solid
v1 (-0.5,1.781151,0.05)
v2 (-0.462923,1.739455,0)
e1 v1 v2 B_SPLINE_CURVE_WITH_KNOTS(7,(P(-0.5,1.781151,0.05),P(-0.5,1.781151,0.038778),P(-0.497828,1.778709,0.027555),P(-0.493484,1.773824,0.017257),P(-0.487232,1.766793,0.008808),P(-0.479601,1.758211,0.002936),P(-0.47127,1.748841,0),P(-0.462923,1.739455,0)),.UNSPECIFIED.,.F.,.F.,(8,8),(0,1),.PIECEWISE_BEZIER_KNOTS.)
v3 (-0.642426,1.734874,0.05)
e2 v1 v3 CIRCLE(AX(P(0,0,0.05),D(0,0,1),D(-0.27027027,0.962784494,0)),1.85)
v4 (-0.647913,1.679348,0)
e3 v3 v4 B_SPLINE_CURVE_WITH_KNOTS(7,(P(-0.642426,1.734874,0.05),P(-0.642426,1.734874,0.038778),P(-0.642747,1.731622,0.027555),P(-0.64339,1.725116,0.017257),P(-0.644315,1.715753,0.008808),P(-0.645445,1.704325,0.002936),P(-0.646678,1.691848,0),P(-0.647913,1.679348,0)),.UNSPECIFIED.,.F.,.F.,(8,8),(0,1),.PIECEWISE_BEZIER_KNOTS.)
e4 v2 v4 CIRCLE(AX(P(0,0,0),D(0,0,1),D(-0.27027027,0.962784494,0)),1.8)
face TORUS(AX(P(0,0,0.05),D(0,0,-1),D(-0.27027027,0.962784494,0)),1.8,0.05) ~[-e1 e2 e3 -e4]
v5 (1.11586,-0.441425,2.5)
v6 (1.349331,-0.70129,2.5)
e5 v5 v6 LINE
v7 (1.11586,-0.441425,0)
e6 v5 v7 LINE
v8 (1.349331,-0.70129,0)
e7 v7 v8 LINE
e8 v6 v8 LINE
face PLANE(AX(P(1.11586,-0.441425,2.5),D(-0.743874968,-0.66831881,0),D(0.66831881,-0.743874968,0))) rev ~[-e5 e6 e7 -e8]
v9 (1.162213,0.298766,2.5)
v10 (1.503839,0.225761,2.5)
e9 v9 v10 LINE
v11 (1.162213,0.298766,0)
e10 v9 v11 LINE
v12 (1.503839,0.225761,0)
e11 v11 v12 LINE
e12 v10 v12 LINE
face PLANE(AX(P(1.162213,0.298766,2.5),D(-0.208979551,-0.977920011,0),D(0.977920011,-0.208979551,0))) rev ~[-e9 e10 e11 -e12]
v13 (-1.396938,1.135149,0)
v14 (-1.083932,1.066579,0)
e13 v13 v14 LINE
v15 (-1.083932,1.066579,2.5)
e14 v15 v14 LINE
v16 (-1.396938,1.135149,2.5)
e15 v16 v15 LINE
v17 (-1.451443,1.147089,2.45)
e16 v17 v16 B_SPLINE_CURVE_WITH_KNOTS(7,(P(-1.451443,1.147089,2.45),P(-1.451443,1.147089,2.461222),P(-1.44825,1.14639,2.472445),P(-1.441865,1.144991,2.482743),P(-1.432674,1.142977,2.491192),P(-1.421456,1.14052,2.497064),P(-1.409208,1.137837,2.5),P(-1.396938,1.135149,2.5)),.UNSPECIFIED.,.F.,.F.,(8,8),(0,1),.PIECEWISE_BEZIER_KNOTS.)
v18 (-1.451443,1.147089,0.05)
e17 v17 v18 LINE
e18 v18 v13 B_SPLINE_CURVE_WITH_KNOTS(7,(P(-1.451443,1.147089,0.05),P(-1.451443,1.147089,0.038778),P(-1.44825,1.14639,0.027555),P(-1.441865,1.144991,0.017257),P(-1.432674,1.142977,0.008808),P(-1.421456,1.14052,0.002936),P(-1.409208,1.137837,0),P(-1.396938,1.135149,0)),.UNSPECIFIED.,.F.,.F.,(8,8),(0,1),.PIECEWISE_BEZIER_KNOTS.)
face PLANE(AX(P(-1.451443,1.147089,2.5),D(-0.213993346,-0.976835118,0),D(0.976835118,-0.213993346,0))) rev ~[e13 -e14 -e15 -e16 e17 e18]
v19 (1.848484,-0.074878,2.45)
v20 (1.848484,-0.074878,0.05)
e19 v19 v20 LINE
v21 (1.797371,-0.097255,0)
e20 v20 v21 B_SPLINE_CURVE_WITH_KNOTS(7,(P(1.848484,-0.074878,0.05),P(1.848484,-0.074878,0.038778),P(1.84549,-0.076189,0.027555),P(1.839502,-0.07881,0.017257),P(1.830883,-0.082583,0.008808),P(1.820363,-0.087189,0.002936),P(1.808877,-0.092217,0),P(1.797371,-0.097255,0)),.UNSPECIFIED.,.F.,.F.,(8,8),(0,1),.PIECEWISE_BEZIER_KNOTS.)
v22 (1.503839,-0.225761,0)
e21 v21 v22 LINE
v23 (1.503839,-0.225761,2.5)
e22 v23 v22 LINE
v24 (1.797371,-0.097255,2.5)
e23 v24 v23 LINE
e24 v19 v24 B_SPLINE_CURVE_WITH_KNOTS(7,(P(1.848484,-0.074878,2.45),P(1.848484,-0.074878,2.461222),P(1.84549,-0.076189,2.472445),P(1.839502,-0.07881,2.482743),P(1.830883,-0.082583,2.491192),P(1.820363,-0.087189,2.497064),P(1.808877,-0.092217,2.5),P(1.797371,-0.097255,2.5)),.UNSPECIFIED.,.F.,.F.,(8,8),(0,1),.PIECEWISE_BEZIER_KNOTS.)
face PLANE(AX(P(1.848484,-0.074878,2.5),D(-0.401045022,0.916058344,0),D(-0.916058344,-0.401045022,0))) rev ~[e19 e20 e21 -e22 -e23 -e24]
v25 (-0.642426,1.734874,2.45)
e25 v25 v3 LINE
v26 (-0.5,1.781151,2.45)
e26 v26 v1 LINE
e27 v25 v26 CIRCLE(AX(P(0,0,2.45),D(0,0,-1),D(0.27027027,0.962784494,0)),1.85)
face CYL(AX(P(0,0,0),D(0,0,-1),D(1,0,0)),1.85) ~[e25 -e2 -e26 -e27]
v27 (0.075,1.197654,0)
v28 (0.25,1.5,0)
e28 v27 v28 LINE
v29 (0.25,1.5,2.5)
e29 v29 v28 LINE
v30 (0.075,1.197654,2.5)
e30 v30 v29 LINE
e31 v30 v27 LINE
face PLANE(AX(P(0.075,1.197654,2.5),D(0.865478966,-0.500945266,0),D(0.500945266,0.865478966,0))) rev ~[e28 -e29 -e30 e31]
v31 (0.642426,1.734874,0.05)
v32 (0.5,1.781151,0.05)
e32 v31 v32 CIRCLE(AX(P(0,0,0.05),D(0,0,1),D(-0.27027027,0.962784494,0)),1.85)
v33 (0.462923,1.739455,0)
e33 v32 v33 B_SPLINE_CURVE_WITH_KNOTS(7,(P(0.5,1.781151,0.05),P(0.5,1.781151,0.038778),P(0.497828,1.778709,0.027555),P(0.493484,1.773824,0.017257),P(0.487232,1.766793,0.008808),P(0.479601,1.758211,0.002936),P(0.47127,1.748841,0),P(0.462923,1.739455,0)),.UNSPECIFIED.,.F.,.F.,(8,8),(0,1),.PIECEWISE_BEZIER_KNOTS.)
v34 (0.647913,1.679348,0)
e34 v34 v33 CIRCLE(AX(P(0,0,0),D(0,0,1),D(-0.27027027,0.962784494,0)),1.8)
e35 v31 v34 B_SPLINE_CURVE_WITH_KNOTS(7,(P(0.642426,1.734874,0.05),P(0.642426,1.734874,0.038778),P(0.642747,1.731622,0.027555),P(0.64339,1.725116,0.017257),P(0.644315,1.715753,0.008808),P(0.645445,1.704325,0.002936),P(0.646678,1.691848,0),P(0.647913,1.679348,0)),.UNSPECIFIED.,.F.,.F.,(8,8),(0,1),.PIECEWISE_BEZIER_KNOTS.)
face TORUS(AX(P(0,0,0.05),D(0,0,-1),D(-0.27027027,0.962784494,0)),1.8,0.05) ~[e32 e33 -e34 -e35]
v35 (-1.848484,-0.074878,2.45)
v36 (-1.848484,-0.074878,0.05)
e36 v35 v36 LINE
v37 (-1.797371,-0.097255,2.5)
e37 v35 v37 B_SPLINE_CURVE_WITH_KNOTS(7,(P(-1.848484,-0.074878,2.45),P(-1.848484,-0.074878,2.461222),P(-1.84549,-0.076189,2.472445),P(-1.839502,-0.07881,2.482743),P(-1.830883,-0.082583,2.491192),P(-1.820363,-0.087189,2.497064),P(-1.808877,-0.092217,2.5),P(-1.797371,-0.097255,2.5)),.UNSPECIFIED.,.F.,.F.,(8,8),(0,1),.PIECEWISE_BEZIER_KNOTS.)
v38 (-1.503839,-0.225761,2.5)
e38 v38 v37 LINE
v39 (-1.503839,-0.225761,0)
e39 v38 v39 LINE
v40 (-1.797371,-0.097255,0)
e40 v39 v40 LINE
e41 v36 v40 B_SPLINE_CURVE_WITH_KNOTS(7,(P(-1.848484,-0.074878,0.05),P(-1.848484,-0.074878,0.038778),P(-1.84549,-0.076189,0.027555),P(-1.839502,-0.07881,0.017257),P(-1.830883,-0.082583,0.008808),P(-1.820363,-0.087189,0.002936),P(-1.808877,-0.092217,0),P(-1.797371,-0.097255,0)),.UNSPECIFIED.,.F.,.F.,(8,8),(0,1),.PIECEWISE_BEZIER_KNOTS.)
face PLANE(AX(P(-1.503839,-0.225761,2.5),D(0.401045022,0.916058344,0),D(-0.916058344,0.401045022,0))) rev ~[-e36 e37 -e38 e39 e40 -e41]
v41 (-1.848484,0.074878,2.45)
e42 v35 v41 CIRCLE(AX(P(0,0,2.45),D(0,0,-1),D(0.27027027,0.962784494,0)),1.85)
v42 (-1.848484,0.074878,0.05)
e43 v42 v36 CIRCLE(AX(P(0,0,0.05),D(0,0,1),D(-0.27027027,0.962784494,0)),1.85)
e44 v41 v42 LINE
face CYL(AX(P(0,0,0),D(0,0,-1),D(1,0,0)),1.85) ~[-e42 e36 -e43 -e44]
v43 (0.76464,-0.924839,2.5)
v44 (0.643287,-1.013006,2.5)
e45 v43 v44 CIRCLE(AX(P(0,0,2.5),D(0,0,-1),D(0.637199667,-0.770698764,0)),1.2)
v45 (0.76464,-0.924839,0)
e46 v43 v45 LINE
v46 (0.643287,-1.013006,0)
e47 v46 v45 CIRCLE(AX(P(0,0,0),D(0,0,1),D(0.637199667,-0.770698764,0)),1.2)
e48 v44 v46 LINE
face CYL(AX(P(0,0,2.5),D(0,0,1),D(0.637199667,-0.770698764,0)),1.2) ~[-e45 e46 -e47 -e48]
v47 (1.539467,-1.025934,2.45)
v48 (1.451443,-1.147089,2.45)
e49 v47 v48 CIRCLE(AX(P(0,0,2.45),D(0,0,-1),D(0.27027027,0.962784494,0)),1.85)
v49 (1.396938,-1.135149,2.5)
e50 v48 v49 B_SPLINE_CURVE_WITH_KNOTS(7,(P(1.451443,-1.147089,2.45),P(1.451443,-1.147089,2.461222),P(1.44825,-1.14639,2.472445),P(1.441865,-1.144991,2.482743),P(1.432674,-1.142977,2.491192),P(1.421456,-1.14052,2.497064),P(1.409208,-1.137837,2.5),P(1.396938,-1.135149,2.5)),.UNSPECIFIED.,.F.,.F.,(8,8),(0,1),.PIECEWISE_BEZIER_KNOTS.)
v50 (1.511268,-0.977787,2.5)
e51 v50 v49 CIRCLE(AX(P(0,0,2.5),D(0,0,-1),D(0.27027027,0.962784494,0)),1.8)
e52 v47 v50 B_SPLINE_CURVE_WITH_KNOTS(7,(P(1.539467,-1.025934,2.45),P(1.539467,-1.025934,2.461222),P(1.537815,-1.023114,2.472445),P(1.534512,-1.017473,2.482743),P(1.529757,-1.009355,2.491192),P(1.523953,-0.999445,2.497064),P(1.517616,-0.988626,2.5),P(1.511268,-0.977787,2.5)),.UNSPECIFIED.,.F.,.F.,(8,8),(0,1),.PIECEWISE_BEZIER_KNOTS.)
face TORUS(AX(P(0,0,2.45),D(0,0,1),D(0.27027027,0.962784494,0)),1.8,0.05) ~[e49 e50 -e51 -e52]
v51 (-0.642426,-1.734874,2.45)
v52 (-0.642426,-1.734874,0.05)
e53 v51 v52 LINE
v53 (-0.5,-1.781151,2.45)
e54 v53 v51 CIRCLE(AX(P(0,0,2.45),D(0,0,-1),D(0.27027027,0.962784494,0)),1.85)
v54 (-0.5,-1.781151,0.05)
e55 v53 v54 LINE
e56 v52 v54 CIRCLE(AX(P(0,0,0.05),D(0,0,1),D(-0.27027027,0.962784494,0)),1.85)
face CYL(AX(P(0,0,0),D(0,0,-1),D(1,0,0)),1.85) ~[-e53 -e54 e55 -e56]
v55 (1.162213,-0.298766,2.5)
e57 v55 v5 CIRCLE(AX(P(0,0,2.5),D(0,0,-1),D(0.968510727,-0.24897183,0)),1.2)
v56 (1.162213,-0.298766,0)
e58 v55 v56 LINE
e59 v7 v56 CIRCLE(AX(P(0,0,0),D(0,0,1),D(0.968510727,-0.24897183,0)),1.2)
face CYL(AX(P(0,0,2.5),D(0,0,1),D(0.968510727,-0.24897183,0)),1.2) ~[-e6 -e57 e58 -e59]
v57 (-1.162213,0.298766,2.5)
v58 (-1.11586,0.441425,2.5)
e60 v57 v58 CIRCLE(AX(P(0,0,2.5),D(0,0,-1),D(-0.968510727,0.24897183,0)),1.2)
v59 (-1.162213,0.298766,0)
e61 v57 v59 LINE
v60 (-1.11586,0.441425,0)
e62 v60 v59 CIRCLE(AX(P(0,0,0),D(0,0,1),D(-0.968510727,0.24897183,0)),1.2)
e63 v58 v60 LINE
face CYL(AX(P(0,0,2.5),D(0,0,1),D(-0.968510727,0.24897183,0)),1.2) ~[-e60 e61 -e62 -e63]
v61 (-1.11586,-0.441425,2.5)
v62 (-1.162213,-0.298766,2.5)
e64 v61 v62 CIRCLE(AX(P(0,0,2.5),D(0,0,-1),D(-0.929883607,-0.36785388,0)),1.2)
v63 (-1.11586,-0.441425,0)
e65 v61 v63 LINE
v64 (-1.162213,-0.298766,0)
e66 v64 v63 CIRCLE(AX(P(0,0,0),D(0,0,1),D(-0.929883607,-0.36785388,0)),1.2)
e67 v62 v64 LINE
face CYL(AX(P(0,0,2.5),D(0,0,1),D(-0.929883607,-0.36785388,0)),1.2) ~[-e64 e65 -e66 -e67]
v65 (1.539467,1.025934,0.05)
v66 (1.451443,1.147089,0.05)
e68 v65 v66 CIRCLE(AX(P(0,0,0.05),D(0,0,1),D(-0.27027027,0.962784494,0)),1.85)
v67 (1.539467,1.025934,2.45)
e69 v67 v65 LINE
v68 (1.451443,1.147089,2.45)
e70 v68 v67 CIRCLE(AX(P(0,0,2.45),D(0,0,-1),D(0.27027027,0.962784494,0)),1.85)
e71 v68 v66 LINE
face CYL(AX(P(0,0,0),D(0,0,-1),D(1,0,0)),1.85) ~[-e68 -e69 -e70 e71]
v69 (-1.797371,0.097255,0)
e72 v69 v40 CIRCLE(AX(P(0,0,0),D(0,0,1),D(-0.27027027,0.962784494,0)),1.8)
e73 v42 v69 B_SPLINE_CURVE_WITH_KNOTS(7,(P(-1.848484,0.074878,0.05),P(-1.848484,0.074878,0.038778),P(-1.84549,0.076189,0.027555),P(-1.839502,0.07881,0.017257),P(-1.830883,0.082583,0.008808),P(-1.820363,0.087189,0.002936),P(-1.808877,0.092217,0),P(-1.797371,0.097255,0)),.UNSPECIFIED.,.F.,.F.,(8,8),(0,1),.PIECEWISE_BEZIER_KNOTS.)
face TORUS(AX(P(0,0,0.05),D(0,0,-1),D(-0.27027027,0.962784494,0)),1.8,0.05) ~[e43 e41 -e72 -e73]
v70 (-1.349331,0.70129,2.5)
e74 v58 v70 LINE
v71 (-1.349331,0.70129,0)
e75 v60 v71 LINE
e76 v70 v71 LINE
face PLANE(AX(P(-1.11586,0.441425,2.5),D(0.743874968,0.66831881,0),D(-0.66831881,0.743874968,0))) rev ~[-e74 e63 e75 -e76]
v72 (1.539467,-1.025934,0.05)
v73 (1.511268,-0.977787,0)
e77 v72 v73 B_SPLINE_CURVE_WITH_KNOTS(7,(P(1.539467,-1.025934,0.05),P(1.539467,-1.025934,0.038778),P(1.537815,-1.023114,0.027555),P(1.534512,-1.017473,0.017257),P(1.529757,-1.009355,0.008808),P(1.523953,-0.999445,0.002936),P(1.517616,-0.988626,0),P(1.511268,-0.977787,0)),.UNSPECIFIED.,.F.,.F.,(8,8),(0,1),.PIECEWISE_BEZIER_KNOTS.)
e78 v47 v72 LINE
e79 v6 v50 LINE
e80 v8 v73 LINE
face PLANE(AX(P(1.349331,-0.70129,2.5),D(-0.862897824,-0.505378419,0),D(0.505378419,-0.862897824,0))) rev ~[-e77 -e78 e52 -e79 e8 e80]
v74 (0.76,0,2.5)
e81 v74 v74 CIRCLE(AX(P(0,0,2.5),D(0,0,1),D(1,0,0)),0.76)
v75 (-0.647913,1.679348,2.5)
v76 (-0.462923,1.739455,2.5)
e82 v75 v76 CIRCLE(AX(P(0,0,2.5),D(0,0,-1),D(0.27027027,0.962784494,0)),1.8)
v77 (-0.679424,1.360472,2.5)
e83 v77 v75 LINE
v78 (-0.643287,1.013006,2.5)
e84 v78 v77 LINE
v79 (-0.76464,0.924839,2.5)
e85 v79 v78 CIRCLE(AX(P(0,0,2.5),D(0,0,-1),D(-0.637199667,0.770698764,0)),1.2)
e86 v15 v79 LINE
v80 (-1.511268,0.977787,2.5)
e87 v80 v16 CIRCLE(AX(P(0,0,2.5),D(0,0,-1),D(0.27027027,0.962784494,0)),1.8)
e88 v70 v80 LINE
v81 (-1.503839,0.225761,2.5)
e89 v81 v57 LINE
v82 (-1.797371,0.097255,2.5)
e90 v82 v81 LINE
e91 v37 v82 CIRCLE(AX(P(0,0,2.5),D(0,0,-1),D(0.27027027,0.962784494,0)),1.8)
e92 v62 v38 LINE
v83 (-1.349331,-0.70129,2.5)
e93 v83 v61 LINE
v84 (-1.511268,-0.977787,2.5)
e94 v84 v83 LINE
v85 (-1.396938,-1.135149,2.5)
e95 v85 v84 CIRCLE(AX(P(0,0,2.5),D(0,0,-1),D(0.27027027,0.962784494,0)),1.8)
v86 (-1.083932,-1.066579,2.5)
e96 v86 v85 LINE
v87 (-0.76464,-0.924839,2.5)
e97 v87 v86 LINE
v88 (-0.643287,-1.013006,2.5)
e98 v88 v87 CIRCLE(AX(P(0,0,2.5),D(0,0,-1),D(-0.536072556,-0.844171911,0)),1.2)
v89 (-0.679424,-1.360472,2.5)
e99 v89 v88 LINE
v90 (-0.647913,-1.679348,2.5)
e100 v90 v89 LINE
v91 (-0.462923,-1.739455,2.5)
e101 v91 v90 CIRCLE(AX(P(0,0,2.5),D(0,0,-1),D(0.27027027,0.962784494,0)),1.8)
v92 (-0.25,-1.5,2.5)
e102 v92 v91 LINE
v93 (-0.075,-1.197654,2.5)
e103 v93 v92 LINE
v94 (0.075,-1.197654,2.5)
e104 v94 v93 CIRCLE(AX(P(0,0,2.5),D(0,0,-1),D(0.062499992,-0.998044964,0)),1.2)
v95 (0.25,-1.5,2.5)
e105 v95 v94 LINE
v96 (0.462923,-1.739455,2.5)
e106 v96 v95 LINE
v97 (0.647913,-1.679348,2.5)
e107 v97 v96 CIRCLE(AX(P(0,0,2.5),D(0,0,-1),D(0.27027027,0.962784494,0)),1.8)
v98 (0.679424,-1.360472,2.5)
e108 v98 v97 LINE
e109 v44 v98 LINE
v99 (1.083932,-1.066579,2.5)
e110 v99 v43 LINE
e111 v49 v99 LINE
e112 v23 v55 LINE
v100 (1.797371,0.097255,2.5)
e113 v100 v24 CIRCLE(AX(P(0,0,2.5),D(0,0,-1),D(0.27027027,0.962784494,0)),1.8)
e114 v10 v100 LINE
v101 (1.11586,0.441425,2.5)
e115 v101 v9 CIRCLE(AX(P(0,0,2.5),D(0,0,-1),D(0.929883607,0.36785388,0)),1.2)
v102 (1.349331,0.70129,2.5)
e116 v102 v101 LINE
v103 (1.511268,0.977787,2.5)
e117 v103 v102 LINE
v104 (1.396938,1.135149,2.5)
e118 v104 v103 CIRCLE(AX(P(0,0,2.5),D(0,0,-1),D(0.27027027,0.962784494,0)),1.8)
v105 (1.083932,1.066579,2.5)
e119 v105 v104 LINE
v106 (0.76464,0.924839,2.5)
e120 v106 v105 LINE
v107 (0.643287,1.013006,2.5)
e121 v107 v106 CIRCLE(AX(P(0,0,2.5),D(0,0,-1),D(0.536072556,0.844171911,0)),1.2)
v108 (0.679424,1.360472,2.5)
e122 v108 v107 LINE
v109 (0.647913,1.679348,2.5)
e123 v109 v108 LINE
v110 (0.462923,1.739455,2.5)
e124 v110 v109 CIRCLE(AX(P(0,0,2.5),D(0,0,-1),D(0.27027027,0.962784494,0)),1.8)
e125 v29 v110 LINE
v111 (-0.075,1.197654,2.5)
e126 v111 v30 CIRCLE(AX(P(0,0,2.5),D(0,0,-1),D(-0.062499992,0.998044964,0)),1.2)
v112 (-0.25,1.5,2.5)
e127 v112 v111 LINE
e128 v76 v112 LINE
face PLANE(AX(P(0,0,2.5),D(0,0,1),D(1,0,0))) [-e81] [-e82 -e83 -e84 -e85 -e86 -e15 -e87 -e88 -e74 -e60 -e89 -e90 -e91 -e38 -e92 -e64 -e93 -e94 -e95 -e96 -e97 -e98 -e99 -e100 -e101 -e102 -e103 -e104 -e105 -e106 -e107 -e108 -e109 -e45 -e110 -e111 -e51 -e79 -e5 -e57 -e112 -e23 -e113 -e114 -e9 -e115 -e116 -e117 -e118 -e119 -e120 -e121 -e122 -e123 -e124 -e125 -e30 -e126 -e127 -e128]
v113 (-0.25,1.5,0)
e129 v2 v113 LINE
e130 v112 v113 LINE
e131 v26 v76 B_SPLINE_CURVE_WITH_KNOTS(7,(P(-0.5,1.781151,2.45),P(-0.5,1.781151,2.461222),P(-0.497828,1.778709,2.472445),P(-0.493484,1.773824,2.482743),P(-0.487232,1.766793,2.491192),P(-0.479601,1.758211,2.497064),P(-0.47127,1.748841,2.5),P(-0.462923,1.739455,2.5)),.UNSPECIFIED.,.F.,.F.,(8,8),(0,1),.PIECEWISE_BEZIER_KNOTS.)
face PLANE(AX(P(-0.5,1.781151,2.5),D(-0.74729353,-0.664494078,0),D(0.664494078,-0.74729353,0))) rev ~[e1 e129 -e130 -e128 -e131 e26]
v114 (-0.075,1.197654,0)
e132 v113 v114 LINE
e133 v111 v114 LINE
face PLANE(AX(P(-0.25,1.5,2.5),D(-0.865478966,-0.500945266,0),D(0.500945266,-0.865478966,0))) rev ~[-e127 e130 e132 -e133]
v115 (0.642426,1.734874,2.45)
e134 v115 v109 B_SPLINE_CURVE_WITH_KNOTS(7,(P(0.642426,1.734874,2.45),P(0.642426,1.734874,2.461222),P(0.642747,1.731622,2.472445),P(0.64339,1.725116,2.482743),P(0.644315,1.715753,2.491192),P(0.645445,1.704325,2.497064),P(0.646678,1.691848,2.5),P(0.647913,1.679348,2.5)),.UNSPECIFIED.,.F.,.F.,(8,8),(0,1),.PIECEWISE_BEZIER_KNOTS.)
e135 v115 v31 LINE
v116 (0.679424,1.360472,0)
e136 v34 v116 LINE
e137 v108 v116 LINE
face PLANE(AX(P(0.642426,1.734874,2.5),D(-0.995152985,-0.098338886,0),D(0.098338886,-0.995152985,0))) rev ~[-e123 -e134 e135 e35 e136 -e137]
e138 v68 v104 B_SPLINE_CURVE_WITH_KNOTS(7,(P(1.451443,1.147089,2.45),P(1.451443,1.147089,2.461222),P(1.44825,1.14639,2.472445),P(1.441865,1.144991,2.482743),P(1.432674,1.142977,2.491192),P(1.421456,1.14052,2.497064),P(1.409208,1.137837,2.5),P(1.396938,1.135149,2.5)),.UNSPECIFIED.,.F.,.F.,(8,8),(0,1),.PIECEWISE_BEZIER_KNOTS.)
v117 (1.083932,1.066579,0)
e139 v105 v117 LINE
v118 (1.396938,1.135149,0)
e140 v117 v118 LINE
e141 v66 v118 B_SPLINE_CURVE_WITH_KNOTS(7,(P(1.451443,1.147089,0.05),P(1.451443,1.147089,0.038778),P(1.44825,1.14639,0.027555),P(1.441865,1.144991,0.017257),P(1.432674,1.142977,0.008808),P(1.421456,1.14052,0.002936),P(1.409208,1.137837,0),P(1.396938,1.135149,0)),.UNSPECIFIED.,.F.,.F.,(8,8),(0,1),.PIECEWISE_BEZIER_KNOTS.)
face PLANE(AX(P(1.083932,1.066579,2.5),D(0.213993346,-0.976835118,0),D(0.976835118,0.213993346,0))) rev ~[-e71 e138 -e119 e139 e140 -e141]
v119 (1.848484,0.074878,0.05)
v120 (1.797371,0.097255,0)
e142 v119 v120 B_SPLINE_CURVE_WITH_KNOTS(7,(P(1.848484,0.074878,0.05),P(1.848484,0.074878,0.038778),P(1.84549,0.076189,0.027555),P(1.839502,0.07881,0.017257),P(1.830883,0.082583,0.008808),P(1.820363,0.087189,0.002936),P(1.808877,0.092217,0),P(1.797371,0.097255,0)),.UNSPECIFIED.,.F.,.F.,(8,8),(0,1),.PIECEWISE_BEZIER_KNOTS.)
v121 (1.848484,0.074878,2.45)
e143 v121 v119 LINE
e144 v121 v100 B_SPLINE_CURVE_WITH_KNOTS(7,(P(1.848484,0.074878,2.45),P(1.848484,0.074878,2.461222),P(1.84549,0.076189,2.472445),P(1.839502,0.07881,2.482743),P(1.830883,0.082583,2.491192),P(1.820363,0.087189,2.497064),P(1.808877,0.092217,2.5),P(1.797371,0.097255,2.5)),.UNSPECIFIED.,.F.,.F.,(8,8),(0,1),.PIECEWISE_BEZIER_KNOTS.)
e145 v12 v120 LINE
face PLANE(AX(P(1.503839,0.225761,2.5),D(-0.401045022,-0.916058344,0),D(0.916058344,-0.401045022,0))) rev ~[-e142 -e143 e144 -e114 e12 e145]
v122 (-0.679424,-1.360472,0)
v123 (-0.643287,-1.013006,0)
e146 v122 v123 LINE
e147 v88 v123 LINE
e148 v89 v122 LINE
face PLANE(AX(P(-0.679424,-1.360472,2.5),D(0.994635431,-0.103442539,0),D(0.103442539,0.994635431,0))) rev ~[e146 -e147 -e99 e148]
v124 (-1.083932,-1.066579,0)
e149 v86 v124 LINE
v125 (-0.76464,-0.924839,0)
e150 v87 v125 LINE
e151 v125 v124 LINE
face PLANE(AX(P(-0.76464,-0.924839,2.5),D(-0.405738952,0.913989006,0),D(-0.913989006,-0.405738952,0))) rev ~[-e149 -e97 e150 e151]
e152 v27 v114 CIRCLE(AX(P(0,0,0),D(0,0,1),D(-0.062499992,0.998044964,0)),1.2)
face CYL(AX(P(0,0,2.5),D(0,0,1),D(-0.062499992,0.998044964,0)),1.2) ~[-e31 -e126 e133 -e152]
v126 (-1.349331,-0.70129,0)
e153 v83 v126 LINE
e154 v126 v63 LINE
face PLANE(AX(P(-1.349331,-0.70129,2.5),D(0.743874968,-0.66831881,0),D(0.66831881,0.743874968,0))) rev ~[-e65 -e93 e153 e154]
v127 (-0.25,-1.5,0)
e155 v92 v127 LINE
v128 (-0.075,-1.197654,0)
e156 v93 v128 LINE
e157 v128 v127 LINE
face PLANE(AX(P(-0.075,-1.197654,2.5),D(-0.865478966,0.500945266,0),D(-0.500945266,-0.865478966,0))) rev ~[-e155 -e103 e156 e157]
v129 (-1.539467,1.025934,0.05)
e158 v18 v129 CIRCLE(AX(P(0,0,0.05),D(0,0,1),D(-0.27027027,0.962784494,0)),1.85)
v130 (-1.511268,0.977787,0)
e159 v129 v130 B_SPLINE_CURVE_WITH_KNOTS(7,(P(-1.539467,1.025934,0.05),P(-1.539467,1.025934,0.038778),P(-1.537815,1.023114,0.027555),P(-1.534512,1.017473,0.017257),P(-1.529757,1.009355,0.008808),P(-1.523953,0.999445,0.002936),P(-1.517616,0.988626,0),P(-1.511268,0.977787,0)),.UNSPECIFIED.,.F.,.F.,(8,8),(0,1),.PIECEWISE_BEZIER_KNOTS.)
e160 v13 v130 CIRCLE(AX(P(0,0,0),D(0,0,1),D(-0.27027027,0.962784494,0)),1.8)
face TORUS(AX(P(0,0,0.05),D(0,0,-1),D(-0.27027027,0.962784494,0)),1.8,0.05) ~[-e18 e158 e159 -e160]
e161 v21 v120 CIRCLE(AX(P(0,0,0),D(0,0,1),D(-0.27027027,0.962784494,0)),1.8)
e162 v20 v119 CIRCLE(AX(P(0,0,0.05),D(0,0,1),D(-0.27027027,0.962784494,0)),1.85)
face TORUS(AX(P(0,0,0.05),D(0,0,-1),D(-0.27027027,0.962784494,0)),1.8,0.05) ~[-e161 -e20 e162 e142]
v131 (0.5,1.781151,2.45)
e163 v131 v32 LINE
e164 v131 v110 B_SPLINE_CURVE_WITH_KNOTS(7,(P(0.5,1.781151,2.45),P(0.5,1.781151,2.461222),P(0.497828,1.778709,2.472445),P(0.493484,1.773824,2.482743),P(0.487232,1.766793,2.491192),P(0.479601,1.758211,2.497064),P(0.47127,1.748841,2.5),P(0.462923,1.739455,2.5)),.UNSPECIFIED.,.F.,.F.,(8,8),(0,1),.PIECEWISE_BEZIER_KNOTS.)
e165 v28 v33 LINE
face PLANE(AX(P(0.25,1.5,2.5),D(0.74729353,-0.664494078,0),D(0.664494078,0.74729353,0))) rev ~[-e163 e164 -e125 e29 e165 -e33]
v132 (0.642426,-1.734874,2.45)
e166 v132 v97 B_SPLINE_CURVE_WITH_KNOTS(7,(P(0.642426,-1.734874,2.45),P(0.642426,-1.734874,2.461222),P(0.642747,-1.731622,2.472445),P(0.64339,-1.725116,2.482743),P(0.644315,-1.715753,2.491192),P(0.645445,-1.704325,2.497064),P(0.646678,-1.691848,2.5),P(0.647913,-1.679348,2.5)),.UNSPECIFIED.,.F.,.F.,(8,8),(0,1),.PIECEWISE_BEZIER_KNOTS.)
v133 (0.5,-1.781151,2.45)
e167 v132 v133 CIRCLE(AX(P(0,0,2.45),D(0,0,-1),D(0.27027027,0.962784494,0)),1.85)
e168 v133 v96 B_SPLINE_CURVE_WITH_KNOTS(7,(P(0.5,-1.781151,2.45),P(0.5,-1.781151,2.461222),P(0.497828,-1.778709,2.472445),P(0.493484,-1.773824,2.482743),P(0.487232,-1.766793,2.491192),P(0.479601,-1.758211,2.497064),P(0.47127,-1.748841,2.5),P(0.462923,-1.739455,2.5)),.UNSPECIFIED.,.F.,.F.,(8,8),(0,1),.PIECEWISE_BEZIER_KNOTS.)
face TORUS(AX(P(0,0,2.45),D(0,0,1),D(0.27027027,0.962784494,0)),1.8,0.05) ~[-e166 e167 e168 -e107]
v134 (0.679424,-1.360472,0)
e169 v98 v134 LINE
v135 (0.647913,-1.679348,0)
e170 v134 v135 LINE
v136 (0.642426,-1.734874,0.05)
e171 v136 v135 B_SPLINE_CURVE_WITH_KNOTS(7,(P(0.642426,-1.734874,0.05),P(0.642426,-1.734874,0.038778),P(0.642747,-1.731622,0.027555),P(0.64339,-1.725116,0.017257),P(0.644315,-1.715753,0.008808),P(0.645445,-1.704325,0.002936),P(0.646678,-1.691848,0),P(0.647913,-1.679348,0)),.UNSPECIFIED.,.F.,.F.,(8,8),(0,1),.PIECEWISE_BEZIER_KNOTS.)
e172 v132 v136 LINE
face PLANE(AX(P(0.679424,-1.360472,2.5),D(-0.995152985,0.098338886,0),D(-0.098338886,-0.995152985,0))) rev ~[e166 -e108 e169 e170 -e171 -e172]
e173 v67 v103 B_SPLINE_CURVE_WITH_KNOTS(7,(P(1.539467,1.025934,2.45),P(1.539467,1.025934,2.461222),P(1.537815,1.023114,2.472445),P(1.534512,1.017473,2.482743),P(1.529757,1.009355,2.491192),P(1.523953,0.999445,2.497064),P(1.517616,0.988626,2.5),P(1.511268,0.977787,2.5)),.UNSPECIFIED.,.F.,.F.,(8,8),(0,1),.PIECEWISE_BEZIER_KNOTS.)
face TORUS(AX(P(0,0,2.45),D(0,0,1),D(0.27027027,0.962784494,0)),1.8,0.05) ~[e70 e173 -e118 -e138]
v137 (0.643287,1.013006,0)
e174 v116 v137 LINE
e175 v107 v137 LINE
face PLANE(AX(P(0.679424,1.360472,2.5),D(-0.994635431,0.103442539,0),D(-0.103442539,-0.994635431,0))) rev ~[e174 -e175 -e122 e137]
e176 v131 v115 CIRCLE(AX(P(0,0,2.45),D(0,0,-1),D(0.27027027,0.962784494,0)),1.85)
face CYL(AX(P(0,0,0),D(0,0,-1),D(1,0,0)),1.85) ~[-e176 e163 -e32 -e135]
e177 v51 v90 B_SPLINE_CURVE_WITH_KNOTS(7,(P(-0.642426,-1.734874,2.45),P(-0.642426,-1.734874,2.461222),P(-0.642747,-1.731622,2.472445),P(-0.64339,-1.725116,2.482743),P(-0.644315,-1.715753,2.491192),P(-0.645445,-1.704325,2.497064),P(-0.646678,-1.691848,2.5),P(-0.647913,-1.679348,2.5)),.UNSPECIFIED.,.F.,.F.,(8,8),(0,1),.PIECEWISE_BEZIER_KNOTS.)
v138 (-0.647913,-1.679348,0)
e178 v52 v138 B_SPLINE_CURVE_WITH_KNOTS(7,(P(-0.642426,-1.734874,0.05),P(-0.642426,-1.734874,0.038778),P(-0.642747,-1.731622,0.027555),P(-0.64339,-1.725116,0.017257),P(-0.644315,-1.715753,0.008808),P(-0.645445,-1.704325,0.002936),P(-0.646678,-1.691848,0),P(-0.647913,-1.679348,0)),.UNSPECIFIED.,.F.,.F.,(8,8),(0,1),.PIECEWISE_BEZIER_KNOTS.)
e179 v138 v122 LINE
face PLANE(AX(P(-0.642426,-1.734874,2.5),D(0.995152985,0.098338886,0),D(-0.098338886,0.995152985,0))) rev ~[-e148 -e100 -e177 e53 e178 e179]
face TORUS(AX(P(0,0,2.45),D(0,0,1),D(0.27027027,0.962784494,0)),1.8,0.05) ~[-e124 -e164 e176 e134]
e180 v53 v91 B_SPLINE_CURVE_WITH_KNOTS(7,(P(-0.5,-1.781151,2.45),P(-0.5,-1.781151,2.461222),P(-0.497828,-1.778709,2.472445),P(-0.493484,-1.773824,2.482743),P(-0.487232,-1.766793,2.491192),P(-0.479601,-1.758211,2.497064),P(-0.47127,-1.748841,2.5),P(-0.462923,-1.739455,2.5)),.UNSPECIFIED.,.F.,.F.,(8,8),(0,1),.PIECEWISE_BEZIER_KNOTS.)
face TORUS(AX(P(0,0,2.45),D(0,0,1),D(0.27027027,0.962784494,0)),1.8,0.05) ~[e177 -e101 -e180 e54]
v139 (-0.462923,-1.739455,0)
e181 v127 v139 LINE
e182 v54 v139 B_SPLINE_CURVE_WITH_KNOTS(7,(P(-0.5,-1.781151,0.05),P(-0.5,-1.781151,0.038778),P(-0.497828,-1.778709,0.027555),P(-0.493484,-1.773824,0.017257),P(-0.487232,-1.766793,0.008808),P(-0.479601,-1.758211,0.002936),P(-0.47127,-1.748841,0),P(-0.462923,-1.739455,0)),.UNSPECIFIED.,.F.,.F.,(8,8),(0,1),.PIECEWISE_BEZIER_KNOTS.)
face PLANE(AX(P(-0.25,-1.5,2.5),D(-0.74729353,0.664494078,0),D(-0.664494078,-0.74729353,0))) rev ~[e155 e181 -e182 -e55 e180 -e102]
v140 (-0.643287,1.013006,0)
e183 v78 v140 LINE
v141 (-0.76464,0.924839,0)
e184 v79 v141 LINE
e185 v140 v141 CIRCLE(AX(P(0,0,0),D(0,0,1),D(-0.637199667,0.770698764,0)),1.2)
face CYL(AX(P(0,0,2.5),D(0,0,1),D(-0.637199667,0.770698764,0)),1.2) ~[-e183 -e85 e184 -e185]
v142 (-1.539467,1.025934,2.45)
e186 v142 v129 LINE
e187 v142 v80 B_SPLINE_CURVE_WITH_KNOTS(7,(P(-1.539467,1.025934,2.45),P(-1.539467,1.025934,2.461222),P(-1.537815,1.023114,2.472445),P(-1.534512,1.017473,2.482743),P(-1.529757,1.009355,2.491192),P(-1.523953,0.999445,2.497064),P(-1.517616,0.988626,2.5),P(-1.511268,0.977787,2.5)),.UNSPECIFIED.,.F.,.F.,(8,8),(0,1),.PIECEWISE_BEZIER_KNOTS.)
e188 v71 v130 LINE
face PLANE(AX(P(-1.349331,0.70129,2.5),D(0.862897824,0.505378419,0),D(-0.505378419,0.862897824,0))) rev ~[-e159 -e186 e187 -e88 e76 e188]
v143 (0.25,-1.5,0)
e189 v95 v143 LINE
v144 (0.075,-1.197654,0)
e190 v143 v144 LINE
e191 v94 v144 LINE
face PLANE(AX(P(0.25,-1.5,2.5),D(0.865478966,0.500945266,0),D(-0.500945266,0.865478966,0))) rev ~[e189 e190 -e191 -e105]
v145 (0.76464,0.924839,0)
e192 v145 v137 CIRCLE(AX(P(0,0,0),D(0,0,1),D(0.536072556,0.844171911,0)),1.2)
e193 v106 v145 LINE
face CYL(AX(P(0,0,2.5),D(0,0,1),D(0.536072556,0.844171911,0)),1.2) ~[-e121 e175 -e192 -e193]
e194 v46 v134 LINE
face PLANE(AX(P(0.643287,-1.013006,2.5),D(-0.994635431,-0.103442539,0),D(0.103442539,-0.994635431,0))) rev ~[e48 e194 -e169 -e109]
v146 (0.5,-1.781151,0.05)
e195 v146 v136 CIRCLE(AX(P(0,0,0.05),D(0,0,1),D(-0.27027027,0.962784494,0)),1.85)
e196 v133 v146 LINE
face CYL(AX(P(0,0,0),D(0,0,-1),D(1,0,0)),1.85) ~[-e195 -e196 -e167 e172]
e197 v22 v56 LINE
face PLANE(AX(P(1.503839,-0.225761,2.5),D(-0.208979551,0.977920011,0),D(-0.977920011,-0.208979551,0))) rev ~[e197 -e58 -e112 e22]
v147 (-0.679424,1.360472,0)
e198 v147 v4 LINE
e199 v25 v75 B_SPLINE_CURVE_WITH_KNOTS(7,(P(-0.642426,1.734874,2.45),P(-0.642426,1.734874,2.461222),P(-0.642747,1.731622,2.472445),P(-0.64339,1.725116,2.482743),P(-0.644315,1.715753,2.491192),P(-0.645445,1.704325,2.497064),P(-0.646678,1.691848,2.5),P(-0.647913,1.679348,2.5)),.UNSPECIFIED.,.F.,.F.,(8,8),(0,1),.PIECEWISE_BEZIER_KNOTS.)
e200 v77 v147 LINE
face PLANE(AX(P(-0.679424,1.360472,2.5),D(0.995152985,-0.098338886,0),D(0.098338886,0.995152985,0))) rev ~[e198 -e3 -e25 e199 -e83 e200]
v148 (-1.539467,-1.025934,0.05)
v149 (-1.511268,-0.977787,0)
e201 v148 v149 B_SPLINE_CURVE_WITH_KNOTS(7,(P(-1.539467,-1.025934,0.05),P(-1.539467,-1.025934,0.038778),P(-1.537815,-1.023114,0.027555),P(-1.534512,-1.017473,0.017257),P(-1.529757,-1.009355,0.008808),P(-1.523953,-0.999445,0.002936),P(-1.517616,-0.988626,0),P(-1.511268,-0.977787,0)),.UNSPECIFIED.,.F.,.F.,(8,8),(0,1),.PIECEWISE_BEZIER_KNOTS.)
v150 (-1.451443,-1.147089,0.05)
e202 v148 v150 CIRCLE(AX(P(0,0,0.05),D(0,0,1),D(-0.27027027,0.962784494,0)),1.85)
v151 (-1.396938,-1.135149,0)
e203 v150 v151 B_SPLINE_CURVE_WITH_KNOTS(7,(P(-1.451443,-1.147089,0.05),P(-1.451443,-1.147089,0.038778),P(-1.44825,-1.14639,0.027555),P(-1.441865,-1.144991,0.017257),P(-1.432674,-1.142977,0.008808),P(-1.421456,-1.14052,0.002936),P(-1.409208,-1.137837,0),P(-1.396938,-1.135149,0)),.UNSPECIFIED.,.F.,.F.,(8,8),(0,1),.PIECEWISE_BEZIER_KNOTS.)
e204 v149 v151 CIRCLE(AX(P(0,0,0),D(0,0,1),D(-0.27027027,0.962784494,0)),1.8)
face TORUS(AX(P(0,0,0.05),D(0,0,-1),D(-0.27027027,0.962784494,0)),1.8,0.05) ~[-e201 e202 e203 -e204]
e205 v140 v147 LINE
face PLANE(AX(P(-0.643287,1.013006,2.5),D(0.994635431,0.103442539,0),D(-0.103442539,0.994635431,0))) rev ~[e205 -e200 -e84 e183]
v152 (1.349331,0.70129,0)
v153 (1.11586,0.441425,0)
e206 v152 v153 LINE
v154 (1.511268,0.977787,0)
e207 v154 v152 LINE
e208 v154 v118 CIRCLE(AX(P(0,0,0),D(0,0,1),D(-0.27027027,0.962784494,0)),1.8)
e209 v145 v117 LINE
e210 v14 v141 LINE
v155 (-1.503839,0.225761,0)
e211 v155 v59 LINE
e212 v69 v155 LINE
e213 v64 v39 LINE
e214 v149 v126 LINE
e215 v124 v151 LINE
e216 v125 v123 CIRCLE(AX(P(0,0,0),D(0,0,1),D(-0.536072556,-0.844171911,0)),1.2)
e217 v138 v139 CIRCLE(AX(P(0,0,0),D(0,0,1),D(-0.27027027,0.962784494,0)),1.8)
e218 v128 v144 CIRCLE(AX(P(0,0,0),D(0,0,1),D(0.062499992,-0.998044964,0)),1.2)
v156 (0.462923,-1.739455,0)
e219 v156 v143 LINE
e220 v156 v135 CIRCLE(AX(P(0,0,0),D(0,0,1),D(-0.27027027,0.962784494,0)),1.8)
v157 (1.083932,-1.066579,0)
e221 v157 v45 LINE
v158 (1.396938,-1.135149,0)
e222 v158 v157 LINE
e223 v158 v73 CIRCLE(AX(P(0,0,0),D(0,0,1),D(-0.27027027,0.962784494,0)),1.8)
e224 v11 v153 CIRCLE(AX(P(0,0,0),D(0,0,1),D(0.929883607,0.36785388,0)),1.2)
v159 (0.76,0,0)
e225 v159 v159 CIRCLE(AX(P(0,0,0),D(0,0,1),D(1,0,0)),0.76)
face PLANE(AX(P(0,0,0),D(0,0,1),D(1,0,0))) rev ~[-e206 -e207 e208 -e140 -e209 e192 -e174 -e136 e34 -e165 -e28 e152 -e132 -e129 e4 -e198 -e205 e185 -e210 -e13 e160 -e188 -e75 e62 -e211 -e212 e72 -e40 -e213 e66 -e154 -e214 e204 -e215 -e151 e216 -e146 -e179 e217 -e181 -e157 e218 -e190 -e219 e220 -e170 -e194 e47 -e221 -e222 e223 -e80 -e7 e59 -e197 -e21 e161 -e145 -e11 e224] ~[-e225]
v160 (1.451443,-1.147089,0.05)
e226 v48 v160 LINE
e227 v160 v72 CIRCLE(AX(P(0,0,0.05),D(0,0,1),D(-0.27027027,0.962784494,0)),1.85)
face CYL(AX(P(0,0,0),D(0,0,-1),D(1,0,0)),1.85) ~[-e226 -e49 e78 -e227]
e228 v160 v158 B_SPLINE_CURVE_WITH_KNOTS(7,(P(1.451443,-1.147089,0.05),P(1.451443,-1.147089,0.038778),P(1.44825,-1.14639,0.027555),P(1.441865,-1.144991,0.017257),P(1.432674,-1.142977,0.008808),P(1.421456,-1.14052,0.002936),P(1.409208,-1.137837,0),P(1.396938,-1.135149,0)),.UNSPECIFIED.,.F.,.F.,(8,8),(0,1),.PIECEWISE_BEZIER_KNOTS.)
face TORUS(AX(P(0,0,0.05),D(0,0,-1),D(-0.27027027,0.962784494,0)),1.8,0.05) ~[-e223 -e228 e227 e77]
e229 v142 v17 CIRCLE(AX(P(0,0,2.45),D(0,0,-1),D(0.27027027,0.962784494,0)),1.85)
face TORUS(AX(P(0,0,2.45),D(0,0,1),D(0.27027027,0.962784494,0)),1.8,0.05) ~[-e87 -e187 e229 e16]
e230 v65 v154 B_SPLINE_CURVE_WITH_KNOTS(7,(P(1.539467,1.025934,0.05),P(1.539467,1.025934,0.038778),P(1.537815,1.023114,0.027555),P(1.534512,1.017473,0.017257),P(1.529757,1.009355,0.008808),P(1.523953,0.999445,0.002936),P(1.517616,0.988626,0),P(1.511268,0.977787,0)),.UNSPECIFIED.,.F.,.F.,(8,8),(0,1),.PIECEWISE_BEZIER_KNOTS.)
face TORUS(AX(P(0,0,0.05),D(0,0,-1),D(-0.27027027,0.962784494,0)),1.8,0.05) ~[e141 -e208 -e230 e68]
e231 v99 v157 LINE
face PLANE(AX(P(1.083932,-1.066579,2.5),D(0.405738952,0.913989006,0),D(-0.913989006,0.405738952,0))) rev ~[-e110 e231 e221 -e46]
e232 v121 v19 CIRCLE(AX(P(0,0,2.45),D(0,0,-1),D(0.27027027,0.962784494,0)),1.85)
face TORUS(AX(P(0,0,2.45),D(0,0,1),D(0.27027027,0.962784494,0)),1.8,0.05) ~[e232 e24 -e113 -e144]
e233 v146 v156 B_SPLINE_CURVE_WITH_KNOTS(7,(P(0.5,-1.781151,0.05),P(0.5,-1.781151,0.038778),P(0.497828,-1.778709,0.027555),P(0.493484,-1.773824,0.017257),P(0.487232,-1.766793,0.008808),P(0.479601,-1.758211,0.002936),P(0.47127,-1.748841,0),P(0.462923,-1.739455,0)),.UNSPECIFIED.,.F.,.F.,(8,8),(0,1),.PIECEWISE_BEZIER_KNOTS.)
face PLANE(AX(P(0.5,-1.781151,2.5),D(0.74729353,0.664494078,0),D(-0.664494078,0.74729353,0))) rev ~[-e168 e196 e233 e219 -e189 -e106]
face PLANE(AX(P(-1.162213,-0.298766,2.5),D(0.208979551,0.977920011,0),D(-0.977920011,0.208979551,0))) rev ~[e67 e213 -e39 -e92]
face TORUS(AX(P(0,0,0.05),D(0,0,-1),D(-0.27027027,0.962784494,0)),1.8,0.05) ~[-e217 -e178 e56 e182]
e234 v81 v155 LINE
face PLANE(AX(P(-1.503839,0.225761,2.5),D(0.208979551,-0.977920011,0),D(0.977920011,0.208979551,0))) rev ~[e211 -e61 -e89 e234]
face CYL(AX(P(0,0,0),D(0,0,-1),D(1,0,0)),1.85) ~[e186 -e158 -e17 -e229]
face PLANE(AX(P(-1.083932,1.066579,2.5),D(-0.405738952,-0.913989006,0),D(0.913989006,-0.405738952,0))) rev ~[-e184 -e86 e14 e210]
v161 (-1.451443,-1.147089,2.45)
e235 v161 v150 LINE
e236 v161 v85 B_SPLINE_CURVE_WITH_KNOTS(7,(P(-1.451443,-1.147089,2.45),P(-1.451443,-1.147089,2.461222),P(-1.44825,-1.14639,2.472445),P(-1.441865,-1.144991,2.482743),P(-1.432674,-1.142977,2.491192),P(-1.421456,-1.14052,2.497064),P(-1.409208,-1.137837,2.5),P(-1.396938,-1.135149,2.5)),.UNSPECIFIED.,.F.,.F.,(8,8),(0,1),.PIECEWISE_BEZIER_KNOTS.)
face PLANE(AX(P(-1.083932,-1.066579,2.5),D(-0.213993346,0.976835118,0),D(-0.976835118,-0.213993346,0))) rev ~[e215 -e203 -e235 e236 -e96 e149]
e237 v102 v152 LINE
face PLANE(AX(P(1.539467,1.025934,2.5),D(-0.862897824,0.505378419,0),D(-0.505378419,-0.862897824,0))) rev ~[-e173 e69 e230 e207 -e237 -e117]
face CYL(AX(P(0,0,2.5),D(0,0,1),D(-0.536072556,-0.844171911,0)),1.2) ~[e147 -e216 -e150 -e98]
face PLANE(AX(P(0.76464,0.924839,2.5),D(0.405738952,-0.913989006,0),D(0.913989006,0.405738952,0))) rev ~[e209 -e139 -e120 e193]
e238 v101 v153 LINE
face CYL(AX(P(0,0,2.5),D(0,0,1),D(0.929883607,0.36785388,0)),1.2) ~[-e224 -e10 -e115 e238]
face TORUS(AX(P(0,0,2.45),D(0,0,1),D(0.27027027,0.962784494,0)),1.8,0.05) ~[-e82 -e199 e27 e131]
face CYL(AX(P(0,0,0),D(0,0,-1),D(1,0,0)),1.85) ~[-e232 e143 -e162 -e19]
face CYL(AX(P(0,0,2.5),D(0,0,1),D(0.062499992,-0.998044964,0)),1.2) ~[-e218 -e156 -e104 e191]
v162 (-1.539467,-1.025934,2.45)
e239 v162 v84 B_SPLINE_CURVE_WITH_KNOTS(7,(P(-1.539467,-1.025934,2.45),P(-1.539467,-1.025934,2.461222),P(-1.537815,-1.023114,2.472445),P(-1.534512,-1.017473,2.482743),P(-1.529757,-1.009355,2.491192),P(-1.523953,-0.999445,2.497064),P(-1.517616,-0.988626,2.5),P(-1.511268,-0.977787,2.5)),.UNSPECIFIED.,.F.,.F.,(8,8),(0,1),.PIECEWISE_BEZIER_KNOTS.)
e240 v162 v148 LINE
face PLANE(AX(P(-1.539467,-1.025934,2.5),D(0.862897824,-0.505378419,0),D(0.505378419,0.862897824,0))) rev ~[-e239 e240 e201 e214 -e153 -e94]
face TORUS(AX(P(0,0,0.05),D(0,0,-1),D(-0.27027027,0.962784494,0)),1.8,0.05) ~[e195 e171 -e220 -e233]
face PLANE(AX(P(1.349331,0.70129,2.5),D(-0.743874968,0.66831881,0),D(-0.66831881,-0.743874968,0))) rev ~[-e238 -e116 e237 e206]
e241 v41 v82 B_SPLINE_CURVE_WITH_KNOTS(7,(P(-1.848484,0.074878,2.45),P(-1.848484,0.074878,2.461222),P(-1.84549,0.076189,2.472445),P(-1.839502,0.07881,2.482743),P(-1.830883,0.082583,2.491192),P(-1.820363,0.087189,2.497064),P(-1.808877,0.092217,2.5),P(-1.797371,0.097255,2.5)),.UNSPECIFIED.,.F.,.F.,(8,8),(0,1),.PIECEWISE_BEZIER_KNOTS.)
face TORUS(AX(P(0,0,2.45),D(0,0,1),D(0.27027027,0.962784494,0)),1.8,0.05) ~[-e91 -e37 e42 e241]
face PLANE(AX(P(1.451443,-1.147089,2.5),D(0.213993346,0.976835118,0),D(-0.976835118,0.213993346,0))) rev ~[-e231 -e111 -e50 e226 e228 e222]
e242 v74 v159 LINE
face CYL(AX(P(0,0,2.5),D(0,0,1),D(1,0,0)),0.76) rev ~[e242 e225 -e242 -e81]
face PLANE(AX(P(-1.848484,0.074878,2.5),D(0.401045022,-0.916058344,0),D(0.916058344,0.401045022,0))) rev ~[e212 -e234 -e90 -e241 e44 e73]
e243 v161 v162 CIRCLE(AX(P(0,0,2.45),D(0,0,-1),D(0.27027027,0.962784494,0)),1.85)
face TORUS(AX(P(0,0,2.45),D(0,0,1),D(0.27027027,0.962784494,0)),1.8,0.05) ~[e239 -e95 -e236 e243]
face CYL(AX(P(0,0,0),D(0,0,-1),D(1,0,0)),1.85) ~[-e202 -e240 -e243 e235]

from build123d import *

# Parameters (mm, degrees)
CROQUIS1_R              = 1.85
SALIENTE_EXTRUIR1_DEPTH = 2.5
CORTAR_EXTRUIR1_DEPTH   = 2.85
REDONDEO1_R             = 0.05
MATRIZC1_COUNT          = 10
CROQUIS2_3_R            = 0.76
CORTAR_EXTRUIR2_DEPTH   = 2.85


with BuildPart() as part:
    # Croquis1 → Saliente-Extruir1 (new body)
    with BuildSketch(Plane.XY):
        Circle(CROQUIS1_R)
    extrude(amount=SALIENTE_EXTRUIR1_DEPTH)

    # Croquis2 → Cortar-Extruir1 (cut)
    with BuildSketch(Plane.XY.offset(2.5)):
        with BuildLine():
            Line((0.5, 1.781151313), (0.5, 2.25))
            Line((0.5, 2.25), (-0.5, 2.25))
            Line((-0.5, 2.25), (-0.5, 1.781151313))
            Line((-0.5, 1.781151313), (-0.25, 1.5))
            Line((-0.25, 1.5), (-0.075, 1.197653957))
            ThreePointArc((-0.075, 1.197653957), (0, 1.2), (0.075, 1.197653957))
            Line((0.075, 1.197653957), (0.25, 1.5))
            Line((0.25, 1.5), (0.5, 1.781151313))
        make_face()
    cortar_extruir1 = extrude(amount=-CORTAR_EXTRUIR1_DEPTH, mode=Mode.SUBTRACT)

    # Redondeo1
    redondeo1_edges = [part.edges().sort_by_distance(p)[0] for p in [
        (0, -1.85, 0),
        (0, -1.85, 2.5),
    ]]
    fillet(redondeo1_edges, radius=REDONDEO1_R)

    # MatrizC1: Cortar-Extruir1 ×10 about axis
    matrizc1_axis = Axis((0, 0, 0), (0, 0, 1))
    for i in range(1, MATRIZC1_COUNT):
        add(cortar_extruir1.rotate(matrizc1_axis, i * 360 / MATRIZC1_COUNT), mode=Mode.SUBTRACT)

    # Croquis2_3 → Cortar-Extruir2 (cut)
    with BuildSketch(Plane.XY.offset(2.5)):
        Circle(CROQUIS2_3_R)
    extrude(amount=-CORTAR_EXTRUIR2_DEPTH, mode=Mode.SUBTRACT)


solid = part.part
